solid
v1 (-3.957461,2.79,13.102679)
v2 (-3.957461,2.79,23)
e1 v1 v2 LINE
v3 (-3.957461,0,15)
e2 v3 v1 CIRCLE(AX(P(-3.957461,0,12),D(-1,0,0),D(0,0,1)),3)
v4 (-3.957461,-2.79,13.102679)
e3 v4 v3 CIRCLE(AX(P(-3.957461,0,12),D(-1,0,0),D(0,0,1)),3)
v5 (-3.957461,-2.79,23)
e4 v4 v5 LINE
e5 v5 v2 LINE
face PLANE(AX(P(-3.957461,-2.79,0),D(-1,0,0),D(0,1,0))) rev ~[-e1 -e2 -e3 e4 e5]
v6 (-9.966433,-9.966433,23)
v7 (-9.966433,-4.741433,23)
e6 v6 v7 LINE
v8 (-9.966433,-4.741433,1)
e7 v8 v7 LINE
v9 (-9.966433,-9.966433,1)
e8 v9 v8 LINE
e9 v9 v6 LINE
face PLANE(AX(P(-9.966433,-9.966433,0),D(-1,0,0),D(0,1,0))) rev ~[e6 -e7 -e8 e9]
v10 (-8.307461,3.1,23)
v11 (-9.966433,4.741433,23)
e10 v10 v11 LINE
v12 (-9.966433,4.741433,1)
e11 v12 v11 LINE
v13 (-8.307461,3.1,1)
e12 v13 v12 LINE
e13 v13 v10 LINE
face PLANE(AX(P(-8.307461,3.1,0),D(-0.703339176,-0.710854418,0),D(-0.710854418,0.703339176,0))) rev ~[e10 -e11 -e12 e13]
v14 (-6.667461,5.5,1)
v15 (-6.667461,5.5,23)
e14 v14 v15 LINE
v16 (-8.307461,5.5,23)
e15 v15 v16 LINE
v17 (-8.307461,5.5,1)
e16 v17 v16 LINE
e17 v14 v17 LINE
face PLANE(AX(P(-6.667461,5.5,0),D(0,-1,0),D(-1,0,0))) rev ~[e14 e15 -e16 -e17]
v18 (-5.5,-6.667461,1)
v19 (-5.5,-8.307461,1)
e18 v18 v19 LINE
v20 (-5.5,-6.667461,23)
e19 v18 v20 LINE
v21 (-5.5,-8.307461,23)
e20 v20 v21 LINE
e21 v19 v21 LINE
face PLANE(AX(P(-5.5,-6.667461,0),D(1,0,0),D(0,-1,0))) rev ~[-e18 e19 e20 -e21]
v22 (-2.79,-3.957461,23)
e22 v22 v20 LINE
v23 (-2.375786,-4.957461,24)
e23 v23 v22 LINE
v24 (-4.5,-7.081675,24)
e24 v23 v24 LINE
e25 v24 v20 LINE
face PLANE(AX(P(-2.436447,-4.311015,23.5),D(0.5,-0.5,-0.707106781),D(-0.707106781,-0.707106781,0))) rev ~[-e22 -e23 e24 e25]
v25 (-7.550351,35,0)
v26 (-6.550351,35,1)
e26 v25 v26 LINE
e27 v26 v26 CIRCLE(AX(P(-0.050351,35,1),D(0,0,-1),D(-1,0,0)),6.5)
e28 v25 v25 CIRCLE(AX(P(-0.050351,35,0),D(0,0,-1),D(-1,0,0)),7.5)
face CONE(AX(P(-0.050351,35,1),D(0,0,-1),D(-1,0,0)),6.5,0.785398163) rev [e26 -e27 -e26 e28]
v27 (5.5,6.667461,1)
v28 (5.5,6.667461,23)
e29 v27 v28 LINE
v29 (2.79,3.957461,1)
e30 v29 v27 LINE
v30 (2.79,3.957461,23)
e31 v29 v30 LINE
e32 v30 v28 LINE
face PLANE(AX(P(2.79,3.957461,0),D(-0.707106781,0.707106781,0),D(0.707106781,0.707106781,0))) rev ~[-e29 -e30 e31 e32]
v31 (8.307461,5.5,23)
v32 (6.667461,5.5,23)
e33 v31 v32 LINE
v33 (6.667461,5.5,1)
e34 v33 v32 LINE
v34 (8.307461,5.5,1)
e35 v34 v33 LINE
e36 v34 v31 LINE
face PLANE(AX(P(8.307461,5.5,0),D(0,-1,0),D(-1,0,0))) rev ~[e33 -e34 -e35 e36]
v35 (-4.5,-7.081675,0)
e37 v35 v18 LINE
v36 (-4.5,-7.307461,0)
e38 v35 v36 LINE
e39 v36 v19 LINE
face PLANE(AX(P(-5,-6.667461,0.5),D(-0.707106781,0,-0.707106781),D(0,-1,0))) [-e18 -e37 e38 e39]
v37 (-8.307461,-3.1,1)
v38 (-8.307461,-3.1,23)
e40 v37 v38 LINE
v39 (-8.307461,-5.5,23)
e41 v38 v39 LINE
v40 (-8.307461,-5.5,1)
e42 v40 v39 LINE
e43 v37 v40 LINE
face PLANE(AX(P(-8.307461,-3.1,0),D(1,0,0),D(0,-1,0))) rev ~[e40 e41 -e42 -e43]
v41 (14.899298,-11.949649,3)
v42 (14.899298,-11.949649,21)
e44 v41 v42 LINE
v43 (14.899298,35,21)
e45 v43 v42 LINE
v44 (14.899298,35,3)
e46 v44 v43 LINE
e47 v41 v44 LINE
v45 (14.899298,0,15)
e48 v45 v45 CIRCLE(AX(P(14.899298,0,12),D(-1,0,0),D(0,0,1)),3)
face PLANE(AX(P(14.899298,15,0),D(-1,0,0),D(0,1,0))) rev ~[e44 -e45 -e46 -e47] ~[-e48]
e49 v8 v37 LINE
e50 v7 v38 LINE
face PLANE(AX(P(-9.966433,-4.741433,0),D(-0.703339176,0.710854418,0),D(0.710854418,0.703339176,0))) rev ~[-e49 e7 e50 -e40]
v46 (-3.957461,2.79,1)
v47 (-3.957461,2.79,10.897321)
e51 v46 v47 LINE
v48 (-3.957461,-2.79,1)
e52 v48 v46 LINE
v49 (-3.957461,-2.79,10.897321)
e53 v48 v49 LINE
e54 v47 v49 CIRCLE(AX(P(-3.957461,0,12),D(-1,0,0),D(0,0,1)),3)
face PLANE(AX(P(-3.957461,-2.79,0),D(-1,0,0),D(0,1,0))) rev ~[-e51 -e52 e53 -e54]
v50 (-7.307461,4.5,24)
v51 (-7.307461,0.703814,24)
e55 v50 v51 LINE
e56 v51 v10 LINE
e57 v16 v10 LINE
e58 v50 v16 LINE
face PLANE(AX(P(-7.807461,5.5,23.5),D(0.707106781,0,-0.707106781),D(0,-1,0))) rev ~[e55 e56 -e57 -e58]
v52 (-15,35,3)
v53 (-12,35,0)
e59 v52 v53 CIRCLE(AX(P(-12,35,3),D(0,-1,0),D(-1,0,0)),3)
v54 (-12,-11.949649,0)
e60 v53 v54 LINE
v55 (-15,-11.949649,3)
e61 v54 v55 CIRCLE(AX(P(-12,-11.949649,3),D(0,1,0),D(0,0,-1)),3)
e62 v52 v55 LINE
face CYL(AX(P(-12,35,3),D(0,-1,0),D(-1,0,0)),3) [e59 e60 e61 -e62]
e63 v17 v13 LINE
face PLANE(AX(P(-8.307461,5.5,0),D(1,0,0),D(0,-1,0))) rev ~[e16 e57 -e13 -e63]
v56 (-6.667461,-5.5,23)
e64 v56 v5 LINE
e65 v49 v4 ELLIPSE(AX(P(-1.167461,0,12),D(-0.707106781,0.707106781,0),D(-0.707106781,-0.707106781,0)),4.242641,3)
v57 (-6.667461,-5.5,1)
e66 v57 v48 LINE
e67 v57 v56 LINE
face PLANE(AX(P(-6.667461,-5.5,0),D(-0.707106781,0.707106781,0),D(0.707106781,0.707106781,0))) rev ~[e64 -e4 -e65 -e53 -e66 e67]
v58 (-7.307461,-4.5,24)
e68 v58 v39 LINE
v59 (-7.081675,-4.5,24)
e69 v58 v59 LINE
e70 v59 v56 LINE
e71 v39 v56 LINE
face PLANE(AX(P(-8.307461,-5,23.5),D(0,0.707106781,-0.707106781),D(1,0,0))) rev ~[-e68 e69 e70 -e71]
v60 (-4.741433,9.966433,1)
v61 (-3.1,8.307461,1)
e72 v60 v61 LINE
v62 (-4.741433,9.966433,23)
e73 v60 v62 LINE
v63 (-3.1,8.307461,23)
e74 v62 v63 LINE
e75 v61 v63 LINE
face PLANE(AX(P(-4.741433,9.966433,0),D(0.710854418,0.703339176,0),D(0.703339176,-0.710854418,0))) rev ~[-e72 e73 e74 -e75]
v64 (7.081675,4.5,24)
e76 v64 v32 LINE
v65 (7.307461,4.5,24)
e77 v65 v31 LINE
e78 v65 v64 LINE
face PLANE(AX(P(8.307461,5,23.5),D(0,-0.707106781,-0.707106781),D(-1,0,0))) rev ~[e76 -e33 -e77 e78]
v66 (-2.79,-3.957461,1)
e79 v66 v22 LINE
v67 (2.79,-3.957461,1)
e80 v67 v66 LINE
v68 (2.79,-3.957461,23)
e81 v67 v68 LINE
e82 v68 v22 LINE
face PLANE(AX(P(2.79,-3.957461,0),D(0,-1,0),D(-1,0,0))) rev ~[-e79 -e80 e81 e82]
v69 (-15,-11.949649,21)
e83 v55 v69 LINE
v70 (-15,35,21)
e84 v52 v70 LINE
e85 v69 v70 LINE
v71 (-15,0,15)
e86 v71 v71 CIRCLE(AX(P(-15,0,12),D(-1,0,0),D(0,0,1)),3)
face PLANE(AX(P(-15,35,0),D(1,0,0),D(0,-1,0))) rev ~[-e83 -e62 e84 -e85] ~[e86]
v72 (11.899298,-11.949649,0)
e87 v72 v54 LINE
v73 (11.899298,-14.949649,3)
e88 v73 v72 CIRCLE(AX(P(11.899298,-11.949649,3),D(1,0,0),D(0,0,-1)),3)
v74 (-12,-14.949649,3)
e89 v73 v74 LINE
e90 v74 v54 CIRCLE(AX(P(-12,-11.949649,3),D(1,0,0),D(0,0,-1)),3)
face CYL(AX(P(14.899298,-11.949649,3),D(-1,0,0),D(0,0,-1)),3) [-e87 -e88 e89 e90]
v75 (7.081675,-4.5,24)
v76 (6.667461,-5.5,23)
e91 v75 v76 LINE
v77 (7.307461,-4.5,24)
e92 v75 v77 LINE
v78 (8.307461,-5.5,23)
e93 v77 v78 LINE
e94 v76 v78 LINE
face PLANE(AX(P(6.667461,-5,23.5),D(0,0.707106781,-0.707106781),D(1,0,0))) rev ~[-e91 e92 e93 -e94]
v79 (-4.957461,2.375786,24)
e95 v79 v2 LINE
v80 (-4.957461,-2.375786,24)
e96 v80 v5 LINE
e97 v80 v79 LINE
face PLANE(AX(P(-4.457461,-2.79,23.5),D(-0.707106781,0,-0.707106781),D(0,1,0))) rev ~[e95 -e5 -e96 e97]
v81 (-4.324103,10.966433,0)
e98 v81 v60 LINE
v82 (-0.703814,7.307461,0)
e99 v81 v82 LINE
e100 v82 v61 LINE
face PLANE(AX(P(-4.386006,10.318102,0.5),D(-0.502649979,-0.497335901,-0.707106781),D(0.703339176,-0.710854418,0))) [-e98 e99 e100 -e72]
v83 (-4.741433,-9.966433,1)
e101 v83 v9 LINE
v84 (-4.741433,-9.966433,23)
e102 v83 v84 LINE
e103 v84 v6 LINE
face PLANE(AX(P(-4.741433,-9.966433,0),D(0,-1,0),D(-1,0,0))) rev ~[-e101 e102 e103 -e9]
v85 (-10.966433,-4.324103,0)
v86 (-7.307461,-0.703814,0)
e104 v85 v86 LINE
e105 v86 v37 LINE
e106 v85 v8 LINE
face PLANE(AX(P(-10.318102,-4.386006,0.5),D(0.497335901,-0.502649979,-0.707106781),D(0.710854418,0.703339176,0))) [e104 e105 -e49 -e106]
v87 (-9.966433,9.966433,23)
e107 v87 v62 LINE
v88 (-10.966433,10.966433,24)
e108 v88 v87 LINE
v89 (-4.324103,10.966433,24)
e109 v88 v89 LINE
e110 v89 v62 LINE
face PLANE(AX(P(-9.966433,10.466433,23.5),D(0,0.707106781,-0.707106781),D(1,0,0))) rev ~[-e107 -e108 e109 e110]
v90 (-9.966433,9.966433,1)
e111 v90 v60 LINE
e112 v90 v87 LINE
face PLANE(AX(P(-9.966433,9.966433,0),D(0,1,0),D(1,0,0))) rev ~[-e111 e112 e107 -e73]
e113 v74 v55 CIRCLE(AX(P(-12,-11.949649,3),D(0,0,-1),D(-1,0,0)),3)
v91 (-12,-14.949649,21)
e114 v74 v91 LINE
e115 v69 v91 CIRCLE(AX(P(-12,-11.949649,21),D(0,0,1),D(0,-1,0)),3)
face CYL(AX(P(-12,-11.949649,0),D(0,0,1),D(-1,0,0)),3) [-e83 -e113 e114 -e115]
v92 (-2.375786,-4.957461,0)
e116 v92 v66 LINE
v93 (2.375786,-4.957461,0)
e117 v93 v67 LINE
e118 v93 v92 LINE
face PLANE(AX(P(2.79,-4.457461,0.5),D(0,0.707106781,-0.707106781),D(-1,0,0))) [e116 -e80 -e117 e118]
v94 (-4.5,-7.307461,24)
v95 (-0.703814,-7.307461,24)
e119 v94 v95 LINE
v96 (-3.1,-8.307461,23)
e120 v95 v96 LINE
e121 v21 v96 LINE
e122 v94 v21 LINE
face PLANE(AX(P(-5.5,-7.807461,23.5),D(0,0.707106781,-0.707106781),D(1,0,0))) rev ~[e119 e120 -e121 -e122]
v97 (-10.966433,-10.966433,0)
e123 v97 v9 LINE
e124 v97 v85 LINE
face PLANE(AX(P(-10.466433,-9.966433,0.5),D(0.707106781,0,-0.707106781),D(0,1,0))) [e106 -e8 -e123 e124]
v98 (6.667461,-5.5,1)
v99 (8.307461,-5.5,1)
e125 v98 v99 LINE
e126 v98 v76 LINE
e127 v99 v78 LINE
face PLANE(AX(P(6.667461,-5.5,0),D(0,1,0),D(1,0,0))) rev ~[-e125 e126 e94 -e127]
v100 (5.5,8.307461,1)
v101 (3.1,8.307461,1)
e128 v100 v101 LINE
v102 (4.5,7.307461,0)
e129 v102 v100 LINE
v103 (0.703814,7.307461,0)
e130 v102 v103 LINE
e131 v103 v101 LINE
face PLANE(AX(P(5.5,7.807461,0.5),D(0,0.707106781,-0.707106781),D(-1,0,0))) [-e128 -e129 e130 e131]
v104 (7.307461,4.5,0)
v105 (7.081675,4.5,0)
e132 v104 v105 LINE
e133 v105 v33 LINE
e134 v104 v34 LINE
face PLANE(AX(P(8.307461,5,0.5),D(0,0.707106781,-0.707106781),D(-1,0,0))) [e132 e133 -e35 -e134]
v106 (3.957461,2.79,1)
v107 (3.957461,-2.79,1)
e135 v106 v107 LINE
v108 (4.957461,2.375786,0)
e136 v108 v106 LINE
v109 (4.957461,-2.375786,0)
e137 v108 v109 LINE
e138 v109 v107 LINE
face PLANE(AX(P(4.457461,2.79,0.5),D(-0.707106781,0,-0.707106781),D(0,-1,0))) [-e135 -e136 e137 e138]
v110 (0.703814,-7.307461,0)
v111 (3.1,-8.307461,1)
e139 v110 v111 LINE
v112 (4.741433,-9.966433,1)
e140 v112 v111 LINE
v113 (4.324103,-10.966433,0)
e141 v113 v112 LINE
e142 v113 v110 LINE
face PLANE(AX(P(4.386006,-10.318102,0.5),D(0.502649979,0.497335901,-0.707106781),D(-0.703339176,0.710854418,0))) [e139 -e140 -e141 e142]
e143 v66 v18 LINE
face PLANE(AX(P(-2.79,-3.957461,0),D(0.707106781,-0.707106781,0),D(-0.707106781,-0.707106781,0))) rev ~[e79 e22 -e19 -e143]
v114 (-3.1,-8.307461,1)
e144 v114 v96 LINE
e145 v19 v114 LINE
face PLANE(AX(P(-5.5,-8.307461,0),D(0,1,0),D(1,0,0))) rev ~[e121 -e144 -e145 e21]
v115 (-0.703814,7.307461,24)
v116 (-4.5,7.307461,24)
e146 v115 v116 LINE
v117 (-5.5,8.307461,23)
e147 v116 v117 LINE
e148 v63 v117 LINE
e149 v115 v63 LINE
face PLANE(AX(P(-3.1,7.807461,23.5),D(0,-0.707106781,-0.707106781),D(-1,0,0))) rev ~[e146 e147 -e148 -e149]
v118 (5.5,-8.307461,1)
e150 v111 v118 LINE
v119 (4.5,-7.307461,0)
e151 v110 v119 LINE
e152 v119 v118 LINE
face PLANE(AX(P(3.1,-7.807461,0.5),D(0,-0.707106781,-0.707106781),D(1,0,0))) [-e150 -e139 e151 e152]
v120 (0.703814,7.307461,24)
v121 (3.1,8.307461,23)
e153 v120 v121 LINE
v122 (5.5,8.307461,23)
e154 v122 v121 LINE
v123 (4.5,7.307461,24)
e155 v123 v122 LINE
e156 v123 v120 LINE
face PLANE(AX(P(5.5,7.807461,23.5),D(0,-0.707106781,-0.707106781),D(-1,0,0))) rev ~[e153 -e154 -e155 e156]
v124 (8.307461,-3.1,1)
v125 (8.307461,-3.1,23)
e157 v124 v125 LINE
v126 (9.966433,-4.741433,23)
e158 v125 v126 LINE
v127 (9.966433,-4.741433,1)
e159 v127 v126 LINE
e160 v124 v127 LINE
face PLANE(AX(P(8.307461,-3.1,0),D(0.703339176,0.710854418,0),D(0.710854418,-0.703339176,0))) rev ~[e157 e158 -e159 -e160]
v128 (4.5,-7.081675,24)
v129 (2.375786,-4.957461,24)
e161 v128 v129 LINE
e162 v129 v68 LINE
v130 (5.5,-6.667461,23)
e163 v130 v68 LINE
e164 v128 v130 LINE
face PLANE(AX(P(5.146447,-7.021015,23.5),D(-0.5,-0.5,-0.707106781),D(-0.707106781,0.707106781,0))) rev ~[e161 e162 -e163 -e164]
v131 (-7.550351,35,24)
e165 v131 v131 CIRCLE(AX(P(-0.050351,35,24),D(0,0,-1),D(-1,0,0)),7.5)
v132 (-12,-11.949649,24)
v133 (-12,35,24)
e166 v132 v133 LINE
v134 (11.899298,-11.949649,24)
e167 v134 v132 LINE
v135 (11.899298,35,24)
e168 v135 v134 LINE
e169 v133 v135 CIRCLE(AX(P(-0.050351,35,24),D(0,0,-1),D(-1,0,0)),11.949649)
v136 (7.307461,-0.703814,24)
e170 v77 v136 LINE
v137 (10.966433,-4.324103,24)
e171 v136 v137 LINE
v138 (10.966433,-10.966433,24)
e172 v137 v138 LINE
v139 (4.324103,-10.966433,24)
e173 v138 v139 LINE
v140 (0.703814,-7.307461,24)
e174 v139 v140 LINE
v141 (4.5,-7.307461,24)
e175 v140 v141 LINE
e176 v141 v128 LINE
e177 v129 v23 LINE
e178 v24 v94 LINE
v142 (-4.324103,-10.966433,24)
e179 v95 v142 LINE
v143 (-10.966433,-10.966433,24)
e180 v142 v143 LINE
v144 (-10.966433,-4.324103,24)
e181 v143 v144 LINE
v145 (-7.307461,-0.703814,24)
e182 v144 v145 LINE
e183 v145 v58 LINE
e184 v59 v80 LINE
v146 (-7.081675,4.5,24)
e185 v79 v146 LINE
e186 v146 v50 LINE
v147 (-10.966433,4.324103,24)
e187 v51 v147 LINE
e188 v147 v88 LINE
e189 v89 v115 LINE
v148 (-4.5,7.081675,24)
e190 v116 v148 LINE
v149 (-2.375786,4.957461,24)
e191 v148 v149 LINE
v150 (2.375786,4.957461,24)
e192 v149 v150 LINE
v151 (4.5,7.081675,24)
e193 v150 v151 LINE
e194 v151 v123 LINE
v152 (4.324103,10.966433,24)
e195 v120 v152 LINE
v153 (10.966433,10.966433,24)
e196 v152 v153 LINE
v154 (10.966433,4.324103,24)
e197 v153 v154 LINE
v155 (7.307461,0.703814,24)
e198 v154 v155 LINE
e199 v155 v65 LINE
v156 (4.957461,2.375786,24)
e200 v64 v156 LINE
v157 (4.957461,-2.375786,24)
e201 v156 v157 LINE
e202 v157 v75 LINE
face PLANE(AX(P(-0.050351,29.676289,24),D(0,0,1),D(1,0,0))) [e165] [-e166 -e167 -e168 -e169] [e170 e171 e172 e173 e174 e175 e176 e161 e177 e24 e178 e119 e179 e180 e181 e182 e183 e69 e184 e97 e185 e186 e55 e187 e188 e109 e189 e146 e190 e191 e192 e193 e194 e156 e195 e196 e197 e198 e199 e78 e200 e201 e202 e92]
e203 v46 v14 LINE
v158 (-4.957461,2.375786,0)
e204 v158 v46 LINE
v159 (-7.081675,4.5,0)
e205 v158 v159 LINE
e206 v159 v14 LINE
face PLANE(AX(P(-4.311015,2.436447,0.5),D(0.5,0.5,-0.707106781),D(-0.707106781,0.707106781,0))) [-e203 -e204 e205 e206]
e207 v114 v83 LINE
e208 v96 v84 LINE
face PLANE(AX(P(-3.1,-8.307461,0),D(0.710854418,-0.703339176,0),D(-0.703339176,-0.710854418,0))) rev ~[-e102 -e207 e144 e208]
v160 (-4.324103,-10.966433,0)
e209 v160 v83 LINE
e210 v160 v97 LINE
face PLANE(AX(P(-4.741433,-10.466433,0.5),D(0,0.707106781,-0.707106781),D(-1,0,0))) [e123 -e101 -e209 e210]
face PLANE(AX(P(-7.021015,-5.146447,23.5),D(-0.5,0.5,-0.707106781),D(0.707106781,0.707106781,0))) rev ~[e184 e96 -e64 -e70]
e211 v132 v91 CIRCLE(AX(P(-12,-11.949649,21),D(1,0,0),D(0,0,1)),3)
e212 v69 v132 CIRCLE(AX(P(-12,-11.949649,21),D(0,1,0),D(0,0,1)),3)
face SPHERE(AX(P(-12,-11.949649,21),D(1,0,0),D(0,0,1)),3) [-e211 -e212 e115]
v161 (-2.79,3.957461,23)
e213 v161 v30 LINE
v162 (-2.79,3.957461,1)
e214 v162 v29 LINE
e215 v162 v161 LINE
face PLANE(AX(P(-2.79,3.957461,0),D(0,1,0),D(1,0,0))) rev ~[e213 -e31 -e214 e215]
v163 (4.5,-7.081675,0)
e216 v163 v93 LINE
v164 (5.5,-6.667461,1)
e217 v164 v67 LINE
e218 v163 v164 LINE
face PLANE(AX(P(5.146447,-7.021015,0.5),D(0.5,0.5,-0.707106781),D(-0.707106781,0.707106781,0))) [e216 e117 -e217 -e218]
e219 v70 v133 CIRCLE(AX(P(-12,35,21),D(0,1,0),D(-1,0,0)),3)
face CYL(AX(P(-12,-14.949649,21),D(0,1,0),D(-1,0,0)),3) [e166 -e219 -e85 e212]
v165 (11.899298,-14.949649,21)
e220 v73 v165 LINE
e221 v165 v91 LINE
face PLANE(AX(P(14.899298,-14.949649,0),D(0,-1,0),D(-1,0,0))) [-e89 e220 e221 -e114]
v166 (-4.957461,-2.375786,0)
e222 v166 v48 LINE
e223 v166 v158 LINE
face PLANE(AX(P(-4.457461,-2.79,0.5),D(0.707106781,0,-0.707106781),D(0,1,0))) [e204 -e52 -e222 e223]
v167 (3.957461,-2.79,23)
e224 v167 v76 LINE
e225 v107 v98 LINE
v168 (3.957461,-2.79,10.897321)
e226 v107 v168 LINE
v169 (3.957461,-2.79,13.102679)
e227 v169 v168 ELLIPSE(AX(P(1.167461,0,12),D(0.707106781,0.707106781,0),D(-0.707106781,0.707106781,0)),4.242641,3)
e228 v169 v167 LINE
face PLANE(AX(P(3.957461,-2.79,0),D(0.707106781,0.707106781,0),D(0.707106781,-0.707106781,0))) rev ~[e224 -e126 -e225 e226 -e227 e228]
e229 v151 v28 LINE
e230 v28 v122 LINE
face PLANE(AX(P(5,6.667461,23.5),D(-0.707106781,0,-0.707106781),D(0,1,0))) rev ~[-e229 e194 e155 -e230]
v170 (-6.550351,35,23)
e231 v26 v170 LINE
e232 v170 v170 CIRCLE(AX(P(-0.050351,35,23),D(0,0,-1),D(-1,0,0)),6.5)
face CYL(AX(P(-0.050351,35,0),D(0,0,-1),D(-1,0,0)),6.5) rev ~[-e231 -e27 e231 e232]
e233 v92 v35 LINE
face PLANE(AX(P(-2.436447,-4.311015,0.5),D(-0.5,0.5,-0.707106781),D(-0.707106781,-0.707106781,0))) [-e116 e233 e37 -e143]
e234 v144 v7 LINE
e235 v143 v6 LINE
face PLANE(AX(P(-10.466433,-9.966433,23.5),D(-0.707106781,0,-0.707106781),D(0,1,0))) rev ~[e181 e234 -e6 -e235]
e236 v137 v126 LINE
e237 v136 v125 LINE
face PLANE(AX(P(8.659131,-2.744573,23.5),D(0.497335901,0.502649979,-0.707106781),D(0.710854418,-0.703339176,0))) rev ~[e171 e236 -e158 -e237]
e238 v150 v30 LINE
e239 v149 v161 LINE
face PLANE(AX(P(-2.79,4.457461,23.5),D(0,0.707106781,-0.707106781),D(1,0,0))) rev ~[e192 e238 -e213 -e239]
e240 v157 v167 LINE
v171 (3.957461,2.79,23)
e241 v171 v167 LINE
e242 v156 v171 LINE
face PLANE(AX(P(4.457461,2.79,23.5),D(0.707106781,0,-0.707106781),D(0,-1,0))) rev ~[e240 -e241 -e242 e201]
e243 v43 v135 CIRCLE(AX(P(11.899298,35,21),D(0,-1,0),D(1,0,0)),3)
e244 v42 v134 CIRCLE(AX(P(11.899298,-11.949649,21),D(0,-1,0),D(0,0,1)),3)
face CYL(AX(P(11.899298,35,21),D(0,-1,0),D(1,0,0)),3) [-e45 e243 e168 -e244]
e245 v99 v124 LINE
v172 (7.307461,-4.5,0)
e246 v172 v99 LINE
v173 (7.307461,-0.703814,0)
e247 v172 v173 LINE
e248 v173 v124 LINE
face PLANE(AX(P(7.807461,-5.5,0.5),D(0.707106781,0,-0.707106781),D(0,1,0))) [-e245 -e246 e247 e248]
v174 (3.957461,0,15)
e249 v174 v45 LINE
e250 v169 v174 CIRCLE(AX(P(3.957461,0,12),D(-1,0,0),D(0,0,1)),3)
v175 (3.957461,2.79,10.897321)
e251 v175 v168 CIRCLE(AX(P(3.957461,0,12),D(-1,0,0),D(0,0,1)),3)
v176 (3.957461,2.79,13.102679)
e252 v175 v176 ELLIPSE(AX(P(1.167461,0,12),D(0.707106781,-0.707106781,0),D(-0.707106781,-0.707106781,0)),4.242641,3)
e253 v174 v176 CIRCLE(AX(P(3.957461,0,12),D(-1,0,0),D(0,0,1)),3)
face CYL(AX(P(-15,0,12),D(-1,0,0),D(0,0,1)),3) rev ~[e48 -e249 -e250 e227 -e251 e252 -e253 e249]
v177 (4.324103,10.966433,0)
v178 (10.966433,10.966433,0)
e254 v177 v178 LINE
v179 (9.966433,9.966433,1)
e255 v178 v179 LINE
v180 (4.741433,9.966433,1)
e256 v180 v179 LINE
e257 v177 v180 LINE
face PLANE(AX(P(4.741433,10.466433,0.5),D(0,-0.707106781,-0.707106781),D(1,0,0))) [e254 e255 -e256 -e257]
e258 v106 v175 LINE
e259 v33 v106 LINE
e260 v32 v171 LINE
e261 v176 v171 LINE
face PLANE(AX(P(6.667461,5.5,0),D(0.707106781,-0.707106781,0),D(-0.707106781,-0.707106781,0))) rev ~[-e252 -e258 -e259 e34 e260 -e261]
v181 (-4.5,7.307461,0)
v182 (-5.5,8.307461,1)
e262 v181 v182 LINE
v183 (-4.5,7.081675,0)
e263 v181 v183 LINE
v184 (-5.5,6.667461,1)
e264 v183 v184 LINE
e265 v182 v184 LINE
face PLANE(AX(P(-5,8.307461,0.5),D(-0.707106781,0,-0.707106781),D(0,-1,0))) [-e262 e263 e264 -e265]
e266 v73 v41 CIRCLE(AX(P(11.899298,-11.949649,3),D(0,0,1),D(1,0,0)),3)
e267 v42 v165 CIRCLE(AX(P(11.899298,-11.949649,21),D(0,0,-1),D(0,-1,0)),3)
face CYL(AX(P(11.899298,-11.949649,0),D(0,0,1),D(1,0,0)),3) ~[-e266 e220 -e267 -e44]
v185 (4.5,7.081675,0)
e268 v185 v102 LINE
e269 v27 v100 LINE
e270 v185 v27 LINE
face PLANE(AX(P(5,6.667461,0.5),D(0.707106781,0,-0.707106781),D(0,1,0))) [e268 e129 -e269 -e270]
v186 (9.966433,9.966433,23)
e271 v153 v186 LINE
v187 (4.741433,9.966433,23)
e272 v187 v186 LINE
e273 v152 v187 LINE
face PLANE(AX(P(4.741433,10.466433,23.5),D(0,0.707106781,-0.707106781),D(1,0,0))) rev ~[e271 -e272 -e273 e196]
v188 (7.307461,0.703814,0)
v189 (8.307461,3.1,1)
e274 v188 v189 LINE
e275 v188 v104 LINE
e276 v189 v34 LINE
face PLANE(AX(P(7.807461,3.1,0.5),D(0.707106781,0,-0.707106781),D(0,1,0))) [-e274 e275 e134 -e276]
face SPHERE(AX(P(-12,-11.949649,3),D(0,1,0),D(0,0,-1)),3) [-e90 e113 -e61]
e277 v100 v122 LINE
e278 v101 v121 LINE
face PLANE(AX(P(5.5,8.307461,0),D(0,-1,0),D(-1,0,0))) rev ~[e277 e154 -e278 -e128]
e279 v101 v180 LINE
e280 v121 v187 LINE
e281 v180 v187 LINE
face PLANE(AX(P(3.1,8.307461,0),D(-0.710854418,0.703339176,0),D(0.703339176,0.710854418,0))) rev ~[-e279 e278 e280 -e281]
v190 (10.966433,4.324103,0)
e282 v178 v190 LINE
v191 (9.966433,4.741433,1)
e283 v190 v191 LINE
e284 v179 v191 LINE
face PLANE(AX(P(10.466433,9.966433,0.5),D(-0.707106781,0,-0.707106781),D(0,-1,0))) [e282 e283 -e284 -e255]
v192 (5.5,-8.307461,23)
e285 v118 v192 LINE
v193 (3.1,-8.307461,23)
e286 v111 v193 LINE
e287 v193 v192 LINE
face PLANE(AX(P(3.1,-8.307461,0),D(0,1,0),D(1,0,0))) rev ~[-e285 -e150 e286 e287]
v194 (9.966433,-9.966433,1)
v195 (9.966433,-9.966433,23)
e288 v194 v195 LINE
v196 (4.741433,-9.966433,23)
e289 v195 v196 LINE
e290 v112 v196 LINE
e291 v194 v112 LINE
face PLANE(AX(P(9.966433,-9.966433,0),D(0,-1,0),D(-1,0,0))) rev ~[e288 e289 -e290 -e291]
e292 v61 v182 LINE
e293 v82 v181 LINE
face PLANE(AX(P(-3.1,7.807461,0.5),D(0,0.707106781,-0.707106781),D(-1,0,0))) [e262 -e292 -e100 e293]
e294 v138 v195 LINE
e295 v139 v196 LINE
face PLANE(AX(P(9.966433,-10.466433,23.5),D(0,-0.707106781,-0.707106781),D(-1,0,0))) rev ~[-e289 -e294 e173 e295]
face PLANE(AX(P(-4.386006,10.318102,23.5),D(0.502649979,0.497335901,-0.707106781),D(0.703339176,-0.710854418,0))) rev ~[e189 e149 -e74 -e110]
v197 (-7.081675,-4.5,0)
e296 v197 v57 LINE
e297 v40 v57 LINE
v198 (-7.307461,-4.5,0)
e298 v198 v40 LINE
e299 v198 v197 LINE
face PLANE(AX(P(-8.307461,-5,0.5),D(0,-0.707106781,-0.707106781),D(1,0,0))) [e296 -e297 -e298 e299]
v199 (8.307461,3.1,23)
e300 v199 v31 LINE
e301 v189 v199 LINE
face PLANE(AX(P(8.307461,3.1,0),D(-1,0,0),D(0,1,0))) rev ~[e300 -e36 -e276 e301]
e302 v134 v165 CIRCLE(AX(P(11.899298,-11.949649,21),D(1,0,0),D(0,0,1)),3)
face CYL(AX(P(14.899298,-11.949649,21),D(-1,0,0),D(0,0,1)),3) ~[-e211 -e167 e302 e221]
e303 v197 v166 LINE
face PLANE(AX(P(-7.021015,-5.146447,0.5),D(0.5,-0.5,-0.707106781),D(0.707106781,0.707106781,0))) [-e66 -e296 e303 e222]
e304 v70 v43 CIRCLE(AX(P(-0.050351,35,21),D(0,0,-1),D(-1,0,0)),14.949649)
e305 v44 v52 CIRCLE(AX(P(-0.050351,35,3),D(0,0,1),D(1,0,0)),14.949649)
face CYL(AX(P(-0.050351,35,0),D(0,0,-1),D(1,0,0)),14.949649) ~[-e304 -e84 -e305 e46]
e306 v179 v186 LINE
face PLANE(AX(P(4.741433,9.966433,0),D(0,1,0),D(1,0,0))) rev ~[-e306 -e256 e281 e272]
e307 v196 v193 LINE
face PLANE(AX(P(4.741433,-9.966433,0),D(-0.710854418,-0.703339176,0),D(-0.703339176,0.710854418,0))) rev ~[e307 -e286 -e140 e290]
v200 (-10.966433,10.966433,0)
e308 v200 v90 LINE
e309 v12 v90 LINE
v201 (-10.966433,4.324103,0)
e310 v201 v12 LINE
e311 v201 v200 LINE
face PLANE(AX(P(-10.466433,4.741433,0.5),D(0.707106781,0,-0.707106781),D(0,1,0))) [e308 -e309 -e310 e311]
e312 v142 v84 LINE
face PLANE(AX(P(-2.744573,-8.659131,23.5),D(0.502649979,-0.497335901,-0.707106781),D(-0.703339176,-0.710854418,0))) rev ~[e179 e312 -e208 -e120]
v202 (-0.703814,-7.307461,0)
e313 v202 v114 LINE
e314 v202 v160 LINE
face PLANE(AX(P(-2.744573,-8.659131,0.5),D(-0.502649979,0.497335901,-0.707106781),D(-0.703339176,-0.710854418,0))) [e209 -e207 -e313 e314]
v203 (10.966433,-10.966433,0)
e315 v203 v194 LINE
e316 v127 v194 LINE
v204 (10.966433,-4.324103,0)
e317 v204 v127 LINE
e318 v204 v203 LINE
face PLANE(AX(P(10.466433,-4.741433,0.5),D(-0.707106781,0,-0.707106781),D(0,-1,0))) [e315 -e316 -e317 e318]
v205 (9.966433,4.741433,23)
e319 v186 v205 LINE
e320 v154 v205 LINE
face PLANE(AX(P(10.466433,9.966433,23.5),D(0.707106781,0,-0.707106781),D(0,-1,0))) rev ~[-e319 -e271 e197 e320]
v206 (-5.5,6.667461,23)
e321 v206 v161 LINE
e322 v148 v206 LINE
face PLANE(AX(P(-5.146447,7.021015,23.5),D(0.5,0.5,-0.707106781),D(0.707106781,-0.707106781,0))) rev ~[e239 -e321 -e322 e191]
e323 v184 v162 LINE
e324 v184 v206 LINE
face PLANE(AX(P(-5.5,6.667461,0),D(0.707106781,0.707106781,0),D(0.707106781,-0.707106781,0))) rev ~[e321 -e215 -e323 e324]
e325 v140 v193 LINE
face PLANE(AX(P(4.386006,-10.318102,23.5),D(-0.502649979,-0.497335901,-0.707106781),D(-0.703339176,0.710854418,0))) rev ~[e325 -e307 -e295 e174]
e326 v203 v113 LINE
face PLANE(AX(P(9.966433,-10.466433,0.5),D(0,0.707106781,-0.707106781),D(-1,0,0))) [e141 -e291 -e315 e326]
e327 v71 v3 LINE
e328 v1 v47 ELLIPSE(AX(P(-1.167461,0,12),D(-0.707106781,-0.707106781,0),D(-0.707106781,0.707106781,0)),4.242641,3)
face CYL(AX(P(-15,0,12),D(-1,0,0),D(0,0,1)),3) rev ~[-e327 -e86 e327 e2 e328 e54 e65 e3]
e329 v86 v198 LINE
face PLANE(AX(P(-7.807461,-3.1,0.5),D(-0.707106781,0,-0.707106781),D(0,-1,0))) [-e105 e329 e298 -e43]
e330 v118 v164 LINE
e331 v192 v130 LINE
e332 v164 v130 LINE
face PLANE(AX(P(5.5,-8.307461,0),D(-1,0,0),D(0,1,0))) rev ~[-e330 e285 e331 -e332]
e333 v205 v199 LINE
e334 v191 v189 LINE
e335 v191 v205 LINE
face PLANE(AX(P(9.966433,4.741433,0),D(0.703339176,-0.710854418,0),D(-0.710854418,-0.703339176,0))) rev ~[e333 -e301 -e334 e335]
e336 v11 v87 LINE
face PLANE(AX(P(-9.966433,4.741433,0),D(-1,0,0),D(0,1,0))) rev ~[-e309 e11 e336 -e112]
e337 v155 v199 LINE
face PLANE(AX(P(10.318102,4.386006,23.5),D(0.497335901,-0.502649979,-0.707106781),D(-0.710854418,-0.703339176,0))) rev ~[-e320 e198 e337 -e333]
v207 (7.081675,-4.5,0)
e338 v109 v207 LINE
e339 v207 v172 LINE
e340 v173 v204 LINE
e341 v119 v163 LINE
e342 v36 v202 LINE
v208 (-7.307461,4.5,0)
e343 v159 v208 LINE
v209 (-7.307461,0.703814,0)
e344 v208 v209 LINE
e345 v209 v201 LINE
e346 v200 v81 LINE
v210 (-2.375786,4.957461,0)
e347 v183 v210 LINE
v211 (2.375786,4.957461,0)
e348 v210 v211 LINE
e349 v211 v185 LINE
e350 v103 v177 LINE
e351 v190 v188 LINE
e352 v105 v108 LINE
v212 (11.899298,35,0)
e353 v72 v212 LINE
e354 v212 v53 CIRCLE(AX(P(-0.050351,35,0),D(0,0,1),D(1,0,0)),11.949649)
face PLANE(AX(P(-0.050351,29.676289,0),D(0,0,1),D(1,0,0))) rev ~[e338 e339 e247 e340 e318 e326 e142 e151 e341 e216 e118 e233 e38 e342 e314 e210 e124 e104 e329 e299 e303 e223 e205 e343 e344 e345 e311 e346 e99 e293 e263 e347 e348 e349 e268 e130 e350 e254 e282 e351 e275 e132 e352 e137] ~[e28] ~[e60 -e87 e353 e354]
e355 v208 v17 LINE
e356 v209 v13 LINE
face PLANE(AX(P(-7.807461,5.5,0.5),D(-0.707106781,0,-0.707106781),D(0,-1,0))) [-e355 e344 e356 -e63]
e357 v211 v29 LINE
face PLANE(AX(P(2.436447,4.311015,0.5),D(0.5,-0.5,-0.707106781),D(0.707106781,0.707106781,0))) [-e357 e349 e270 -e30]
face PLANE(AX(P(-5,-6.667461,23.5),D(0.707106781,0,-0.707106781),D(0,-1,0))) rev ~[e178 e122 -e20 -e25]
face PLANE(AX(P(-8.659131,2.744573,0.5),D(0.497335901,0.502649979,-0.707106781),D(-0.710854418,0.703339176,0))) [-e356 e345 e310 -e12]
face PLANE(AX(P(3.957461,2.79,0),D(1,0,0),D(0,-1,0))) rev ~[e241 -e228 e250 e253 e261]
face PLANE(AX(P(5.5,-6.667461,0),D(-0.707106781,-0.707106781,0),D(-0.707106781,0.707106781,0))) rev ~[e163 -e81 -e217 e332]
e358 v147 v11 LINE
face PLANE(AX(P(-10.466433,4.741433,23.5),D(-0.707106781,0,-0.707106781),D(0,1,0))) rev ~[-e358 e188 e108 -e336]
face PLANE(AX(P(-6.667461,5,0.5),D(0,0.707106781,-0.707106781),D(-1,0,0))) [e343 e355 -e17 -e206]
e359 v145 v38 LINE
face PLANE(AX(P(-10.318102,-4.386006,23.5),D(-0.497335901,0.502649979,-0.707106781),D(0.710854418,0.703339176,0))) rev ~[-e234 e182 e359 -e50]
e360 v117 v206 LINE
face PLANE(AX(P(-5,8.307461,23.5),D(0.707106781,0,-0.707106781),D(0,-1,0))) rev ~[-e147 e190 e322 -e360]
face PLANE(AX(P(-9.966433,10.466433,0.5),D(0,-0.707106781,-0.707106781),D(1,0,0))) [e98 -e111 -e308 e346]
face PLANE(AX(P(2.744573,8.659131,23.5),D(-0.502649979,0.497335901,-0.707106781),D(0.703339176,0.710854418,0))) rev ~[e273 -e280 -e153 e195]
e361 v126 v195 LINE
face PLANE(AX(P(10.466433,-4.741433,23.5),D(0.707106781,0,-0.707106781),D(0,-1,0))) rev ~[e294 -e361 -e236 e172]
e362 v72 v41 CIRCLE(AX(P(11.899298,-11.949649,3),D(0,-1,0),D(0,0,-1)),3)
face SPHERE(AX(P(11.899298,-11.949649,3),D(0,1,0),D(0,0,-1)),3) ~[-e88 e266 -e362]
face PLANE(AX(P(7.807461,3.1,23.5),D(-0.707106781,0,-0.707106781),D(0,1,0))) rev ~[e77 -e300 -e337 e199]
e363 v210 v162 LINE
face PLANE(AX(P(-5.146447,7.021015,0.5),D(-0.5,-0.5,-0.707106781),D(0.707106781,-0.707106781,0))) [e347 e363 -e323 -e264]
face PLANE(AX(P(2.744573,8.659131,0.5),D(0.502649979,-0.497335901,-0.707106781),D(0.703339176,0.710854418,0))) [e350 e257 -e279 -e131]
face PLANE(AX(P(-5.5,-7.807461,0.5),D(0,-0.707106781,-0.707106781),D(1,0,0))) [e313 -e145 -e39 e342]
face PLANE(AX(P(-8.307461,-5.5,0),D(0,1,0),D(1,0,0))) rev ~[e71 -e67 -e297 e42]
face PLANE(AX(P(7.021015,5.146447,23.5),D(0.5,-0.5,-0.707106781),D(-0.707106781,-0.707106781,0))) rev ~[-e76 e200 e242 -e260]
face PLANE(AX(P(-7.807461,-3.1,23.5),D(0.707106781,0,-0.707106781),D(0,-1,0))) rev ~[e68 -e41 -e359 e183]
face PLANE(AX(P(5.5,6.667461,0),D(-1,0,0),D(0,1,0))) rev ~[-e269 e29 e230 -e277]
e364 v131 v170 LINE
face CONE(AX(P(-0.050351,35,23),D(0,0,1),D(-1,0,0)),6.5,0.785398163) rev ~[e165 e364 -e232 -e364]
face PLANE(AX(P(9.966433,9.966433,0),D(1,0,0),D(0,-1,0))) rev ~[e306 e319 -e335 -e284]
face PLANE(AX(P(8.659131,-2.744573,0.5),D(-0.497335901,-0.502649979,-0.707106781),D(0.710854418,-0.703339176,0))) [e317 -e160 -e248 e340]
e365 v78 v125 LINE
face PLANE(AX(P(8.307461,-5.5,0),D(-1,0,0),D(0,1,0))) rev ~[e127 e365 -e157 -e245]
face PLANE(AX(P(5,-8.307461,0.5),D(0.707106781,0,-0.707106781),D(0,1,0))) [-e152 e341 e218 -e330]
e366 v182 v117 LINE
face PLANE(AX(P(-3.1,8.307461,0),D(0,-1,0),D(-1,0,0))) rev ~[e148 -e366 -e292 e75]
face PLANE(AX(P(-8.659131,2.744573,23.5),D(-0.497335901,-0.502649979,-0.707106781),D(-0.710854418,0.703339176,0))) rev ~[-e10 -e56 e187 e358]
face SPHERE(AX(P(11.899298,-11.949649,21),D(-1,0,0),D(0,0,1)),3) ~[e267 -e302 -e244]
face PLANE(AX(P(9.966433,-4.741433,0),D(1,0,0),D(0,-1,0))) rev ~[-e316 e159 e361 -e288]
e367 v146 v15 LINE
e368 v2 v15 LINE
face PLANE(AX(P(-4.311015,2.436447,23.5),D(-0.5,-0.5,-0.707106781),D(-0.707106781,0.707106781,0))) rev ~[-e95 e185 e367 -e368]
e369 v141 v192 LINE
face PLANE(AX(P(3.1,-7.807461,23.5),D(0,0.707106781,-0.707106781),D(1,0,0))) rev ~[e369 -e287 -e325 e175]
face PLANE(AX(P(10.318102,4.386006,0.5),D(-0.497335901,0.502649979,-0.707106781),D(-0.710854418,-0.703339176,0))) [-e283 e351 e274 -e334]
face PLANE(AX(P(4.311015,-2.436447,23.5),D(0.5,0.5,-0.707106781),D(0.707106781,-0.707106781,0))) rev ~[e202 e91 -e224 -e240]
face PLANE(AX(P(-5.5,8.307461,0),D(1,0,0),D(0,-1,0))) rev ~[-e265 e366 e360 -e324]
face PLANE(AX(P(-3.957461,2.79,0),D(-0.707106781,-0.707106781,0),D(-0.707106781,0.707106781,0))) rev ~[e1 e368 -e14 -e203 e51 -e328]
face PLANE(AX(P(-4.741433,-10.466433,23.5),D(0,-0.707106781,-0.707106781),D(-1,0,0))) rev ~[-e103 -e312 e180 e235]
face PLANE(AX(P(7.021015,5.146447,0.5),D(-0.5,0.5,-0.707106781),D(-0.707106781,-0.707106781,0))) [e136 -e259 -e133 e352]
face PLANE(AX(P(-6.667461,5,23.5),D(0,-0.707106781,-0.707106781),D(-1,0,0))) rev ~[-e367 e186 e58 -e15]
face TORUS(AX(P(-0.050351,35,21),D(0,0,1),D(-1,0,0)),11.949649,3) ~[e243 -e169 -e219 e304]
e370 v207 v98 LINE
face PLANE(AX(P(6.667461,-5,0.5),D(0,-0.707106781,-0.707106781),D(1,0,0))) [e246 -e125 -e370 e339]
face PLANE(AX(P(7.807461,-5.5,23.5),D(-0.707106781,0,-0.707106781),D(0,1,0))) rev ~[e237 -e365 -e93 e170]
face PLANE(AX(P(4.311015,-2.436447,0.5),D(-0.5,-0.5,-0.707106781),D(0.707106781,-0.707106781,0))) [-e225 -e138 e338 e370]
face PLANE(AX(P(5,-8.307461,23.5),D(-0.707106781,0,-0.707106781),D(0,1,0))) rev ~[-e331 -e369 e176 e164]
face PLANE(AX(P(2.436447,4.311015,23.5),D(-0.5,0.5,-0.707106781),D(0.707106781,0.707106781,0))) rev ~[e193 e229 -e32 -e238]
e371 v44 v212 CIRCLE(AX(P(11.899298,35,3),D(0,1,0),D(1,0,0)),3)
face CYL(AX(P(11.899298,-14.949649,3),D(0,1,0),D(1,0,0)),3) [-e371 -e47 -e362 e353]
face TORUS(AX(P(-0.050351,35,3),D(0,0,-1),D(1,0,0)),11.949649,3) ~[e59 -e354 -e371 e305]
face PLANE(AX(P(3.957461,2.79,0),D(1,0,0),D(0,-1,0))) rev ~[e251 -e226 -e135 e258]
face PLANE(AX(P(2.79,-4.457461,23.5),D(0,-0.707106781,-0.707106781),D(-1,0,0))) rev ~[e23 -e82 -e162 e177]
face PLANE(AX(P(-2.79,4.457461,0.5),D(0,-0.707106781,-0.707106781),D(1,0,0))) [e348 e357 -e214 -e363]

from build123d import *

# Parameters (mm, degrees)
BOSS_EXTRUDE1_DEPTH = 24
SKETCH4_R           = 6.5
BOSS_EXTRUDE2_DEPTH = 24
SKETCH3_R           = 3
CUT_EXTRUDE1_DEPTH  = 30.899298428
FILLET1_R           = 3
CHAMFER1_SIZE       = 1


with BuildPart() as part:
    # Sketch1 → Boss-Extrude1 (new body)
    with BuildSketch(Plane.XY):
        Polygon((0, 15), (14.899298428, 15), (14.899298428, -14.949649214), (-15, -14.949649214), (-15, 15), align=None)
        Polygon((-9.966432809, 9.966432809), (-4.741432809, 9.966432809), (-3.1, 8.307461143), (-5.5, 8.307461143), (-5.5, 6.667461143), (-2.79, 3.957461143), (2.79, 3.957461143), (5.5, 6.667461143), (5.5, 8.307461143), (3.1, 8.307461143), (4.741432809, 9.966432809), (9.966432809, 9.966432809), (9.966432809, 4.741432809), (8.307461143, 3.1), (8.307461143, 5.5), (6.667461143, 5.5), (3.957461143, 2.79), (3.957461143, -2.79), (6.667461143, -5.5), (8.307461143, -5.5), (8.307461143, -3.1), (9.966432809, -4.741432809), (9.966432809, -9.966432809), (4.741432809, -9.966432809), (3.1, -8.307461143), (5.5, -8.307461143), (5.5, -6.667461143), (2.79, -3.957461143), (-2.79, -3.957461143), (-5.5, -6.667461143), (-5.5, -8.307461143), (-3.1, -8.307461143), (-4.741432809, -9.966432809), (-9.966432809, -9.966432809), (-9.966432809, -4.741432809), (-8.307461143, -3.1), (-8.307461143, -5.5), (-6.667461143, -5.5), (-3.957461143, -2.79), (-3.957461143, 2.79), (-6.667461143, 5.5), (-8.307461143, 5.5), (-8.307461143, 3.1), (-9.966432809, 4.741432809), align=None, mode=Mode.SUBTRACT)
    extrude(amount=BOSS_EXTRUDE1_DEPTH)

    # Sketch4 → Boss-Extrude2 (add)
    with BuildSketch(Plane(origin=(0, 0, 0), x_dir=(-1, 0, 0), z_dir=(0, 0, -1))):
        with BuildLine():
            ThreePointArc((-14.899298428, 35), (0.050350786, 49.949649214), (15, 35))
            Line((15, 35), (15, 15))
            Line((15, 15), (-14.899298428, 15))
            Line((-14.899298428, 15), (-14.899298428, 35))
        make_face()
        with Locations((0.050350786, 35)):
            Circle(SKETCH4_R, mode=Mode.SUBTRACT)
    extrude(amount=-BOSS_EXTRUDE2_DEPTH)

    # Sketch3 → Cut-Extrude1 (cut, through all)
    with BuildSketch(Plane.ZY.offset(15)):
        with Locations((12, 0)):
            Circle(SKETCH3_R)
    extrude(amount=-CUT_EXTRUDE1_DEPTH, mode=Mode.SUBTRACT)

    # Fillet1
    fillet1_edges = [part.edges().sort_by_distance(p)[0] for p in [
        (-0.050350786, -14.949649214, 24),
        (14.899298428, 10.025175393, 24),
        (-0.050350786, 49.949649214, 24),
        (-0.050350786, 49.949649214, 0),
        (14.899298428, 10.025175393, 0),
        (-0.050350786, -14.949649214, 0),
        (-15, 10.025175393, 0),
        (-15, 10.025175393, 24),
        (14.899298428, -14.949649214, 12),
        (-15, -14.949649214, 12),
    ]]
    fillet(fillet1_edges, radius=FILLET1_R)

    # Chamfer1
    chamfer1_edges = [part.edges().sort_by_distance(p)[0] for p in [
        (6.449649214, 35, 24),
        (6.449649214, 35, 0),
        (-4.3, 8.307461143, 0),
        (-3.920716405, 9.136946976, 0),
        (-7.353932809, 9.966432809, 0),
        (-9.966432809, 7.353932809, 0),
        (-9.136946976, 3.920716405, 0),
        (-8.307461143, 4.3, 0),
        (-7.487461143, 5.5, 0),
        (-5.312461143, 4.145, 0),
        (-3.957461143, 0, 0),
        (-5.312461143, -4.145, 0),
        (-7.487461143, -5.5, 0),
        (-8.307461143, -4.3, 0),
        (-9.136946976, -3.920716405, 0),
        (-9.966432809, -7.353932809, 0),
        (-7.353932809, -9.966432809, 0),
        (-3.920716405, -9.136946976, 0),
        (-4.3, -8.307461143, 0),
        (-5.5, -7.487461143, 0),
        (-4.145, -5.312461143, 0),
        (0, -3.957461143, 0),
        (4.145, -5.312461143, 0),
        (5.5, -7.487461143, 0),
        (4.3, -8.307461143, 0),
        (3.920716405, -9.136946976, 0),
        (7.353932809, -9.966432809, 0),
        (9.966432809, -7.353932809, 0),
        (9.136946976, -3.920716405, 0),
        (8.307461143, -4.3, 0),
        (7.487461143, -5.5, 0),
        (5.312461143, -4.145, 0),
        (3.957461143, 0, 0),
        (5.312461143, 4.145, 0),
        (7.487461143, 5.5, 0),
        (8.307461143, 4.3, 0),
        (9.136946976, 3.920716405, 0),
        (9.966432809, 7.353932809, 0),
        (7.353932809, 9.966432809, 0),
        (3.920716405, 9.136946976, 0),
        (4.3, 8.307461143, 0),
        (5.5, 7.487461143, 0),
        (4.145, 5.312461143, 0),
        (0, 3.957461143, 0),
        (-4.145, 5.312461143, 0),
        (-5.5, 7.487461143, 0),
        (-4.3, 8.307461143, 24),
        (-3.920716405, 9.136946976, 24),
        (-7.353932809, 9.966432809, 24),
        (-9.966432809, 7.353932809, 24),
        (-9.136946976, 3.920716405, 24),
        (-8.307461143, 4.3, 24),
        (-7.487461143, 5.5, 24),
        (-5.312461143, 4.145, 24),
        (-3.957461143, 0, 24),
        (-5.312461143, -4.145, 24),
        (-7.487461143, -5.5, 24),
        (-8.307461143, -4.3, 24),
        (-9.136946976, -3.920716405, 24),
        (-9.966432809, -7.353932809, 24),
        (-7.353932809, -9.966432809, 24),
        (-3.920716405, -9.136946976, 24),
        (-4.3, -8.307461143, 24),
        (-5.5, -7.487461143, 24),
        (-4.145, -5.312461143, 24),
        (0, -3.957461143, 24),
        (4.145, -5.312461143, 24),
        (5.5, -7.487461143, 24),
        (4.3, -8.307461143, 24),
        (3.920716405, -9.136946976, 24),
        (7.353932809, -9.966432809, 24),
        (9.966432809, -7.353932809, 24),
        (9.136946976, -3.920716405, 24),
        (8.307461143, -4.3, 24),
        (7.487461143, -5.5, 24),
        (5.312461143, -4.145, 24),
        (3.957461143, 0, 24),
        (5.312461143, 4.145, 24),
        (7.487461143, 5.5, 24),
        (8.307461143, 4.3, 24),
        (9.136946976, 3.920716405, 24),
        (9.966432809, 7.353932809, 24),
        (7.353932809, 9.966432809, 24),
        (3.920716405, 9.136946976, 24),
        (4.3, 8.307461143, 24),
        (5.5, 7.487461143, 24),
        (4.145, 5.312461143, 24),
        (0, 3.957461143, 24),
        (-4.145, 5.312461143, 24),
        (-5.5, 7.487461143, 24),
    ]]
    chamfer(chamfer1_edges, length=CHAMFER1_SIZE)


solid = part.part
